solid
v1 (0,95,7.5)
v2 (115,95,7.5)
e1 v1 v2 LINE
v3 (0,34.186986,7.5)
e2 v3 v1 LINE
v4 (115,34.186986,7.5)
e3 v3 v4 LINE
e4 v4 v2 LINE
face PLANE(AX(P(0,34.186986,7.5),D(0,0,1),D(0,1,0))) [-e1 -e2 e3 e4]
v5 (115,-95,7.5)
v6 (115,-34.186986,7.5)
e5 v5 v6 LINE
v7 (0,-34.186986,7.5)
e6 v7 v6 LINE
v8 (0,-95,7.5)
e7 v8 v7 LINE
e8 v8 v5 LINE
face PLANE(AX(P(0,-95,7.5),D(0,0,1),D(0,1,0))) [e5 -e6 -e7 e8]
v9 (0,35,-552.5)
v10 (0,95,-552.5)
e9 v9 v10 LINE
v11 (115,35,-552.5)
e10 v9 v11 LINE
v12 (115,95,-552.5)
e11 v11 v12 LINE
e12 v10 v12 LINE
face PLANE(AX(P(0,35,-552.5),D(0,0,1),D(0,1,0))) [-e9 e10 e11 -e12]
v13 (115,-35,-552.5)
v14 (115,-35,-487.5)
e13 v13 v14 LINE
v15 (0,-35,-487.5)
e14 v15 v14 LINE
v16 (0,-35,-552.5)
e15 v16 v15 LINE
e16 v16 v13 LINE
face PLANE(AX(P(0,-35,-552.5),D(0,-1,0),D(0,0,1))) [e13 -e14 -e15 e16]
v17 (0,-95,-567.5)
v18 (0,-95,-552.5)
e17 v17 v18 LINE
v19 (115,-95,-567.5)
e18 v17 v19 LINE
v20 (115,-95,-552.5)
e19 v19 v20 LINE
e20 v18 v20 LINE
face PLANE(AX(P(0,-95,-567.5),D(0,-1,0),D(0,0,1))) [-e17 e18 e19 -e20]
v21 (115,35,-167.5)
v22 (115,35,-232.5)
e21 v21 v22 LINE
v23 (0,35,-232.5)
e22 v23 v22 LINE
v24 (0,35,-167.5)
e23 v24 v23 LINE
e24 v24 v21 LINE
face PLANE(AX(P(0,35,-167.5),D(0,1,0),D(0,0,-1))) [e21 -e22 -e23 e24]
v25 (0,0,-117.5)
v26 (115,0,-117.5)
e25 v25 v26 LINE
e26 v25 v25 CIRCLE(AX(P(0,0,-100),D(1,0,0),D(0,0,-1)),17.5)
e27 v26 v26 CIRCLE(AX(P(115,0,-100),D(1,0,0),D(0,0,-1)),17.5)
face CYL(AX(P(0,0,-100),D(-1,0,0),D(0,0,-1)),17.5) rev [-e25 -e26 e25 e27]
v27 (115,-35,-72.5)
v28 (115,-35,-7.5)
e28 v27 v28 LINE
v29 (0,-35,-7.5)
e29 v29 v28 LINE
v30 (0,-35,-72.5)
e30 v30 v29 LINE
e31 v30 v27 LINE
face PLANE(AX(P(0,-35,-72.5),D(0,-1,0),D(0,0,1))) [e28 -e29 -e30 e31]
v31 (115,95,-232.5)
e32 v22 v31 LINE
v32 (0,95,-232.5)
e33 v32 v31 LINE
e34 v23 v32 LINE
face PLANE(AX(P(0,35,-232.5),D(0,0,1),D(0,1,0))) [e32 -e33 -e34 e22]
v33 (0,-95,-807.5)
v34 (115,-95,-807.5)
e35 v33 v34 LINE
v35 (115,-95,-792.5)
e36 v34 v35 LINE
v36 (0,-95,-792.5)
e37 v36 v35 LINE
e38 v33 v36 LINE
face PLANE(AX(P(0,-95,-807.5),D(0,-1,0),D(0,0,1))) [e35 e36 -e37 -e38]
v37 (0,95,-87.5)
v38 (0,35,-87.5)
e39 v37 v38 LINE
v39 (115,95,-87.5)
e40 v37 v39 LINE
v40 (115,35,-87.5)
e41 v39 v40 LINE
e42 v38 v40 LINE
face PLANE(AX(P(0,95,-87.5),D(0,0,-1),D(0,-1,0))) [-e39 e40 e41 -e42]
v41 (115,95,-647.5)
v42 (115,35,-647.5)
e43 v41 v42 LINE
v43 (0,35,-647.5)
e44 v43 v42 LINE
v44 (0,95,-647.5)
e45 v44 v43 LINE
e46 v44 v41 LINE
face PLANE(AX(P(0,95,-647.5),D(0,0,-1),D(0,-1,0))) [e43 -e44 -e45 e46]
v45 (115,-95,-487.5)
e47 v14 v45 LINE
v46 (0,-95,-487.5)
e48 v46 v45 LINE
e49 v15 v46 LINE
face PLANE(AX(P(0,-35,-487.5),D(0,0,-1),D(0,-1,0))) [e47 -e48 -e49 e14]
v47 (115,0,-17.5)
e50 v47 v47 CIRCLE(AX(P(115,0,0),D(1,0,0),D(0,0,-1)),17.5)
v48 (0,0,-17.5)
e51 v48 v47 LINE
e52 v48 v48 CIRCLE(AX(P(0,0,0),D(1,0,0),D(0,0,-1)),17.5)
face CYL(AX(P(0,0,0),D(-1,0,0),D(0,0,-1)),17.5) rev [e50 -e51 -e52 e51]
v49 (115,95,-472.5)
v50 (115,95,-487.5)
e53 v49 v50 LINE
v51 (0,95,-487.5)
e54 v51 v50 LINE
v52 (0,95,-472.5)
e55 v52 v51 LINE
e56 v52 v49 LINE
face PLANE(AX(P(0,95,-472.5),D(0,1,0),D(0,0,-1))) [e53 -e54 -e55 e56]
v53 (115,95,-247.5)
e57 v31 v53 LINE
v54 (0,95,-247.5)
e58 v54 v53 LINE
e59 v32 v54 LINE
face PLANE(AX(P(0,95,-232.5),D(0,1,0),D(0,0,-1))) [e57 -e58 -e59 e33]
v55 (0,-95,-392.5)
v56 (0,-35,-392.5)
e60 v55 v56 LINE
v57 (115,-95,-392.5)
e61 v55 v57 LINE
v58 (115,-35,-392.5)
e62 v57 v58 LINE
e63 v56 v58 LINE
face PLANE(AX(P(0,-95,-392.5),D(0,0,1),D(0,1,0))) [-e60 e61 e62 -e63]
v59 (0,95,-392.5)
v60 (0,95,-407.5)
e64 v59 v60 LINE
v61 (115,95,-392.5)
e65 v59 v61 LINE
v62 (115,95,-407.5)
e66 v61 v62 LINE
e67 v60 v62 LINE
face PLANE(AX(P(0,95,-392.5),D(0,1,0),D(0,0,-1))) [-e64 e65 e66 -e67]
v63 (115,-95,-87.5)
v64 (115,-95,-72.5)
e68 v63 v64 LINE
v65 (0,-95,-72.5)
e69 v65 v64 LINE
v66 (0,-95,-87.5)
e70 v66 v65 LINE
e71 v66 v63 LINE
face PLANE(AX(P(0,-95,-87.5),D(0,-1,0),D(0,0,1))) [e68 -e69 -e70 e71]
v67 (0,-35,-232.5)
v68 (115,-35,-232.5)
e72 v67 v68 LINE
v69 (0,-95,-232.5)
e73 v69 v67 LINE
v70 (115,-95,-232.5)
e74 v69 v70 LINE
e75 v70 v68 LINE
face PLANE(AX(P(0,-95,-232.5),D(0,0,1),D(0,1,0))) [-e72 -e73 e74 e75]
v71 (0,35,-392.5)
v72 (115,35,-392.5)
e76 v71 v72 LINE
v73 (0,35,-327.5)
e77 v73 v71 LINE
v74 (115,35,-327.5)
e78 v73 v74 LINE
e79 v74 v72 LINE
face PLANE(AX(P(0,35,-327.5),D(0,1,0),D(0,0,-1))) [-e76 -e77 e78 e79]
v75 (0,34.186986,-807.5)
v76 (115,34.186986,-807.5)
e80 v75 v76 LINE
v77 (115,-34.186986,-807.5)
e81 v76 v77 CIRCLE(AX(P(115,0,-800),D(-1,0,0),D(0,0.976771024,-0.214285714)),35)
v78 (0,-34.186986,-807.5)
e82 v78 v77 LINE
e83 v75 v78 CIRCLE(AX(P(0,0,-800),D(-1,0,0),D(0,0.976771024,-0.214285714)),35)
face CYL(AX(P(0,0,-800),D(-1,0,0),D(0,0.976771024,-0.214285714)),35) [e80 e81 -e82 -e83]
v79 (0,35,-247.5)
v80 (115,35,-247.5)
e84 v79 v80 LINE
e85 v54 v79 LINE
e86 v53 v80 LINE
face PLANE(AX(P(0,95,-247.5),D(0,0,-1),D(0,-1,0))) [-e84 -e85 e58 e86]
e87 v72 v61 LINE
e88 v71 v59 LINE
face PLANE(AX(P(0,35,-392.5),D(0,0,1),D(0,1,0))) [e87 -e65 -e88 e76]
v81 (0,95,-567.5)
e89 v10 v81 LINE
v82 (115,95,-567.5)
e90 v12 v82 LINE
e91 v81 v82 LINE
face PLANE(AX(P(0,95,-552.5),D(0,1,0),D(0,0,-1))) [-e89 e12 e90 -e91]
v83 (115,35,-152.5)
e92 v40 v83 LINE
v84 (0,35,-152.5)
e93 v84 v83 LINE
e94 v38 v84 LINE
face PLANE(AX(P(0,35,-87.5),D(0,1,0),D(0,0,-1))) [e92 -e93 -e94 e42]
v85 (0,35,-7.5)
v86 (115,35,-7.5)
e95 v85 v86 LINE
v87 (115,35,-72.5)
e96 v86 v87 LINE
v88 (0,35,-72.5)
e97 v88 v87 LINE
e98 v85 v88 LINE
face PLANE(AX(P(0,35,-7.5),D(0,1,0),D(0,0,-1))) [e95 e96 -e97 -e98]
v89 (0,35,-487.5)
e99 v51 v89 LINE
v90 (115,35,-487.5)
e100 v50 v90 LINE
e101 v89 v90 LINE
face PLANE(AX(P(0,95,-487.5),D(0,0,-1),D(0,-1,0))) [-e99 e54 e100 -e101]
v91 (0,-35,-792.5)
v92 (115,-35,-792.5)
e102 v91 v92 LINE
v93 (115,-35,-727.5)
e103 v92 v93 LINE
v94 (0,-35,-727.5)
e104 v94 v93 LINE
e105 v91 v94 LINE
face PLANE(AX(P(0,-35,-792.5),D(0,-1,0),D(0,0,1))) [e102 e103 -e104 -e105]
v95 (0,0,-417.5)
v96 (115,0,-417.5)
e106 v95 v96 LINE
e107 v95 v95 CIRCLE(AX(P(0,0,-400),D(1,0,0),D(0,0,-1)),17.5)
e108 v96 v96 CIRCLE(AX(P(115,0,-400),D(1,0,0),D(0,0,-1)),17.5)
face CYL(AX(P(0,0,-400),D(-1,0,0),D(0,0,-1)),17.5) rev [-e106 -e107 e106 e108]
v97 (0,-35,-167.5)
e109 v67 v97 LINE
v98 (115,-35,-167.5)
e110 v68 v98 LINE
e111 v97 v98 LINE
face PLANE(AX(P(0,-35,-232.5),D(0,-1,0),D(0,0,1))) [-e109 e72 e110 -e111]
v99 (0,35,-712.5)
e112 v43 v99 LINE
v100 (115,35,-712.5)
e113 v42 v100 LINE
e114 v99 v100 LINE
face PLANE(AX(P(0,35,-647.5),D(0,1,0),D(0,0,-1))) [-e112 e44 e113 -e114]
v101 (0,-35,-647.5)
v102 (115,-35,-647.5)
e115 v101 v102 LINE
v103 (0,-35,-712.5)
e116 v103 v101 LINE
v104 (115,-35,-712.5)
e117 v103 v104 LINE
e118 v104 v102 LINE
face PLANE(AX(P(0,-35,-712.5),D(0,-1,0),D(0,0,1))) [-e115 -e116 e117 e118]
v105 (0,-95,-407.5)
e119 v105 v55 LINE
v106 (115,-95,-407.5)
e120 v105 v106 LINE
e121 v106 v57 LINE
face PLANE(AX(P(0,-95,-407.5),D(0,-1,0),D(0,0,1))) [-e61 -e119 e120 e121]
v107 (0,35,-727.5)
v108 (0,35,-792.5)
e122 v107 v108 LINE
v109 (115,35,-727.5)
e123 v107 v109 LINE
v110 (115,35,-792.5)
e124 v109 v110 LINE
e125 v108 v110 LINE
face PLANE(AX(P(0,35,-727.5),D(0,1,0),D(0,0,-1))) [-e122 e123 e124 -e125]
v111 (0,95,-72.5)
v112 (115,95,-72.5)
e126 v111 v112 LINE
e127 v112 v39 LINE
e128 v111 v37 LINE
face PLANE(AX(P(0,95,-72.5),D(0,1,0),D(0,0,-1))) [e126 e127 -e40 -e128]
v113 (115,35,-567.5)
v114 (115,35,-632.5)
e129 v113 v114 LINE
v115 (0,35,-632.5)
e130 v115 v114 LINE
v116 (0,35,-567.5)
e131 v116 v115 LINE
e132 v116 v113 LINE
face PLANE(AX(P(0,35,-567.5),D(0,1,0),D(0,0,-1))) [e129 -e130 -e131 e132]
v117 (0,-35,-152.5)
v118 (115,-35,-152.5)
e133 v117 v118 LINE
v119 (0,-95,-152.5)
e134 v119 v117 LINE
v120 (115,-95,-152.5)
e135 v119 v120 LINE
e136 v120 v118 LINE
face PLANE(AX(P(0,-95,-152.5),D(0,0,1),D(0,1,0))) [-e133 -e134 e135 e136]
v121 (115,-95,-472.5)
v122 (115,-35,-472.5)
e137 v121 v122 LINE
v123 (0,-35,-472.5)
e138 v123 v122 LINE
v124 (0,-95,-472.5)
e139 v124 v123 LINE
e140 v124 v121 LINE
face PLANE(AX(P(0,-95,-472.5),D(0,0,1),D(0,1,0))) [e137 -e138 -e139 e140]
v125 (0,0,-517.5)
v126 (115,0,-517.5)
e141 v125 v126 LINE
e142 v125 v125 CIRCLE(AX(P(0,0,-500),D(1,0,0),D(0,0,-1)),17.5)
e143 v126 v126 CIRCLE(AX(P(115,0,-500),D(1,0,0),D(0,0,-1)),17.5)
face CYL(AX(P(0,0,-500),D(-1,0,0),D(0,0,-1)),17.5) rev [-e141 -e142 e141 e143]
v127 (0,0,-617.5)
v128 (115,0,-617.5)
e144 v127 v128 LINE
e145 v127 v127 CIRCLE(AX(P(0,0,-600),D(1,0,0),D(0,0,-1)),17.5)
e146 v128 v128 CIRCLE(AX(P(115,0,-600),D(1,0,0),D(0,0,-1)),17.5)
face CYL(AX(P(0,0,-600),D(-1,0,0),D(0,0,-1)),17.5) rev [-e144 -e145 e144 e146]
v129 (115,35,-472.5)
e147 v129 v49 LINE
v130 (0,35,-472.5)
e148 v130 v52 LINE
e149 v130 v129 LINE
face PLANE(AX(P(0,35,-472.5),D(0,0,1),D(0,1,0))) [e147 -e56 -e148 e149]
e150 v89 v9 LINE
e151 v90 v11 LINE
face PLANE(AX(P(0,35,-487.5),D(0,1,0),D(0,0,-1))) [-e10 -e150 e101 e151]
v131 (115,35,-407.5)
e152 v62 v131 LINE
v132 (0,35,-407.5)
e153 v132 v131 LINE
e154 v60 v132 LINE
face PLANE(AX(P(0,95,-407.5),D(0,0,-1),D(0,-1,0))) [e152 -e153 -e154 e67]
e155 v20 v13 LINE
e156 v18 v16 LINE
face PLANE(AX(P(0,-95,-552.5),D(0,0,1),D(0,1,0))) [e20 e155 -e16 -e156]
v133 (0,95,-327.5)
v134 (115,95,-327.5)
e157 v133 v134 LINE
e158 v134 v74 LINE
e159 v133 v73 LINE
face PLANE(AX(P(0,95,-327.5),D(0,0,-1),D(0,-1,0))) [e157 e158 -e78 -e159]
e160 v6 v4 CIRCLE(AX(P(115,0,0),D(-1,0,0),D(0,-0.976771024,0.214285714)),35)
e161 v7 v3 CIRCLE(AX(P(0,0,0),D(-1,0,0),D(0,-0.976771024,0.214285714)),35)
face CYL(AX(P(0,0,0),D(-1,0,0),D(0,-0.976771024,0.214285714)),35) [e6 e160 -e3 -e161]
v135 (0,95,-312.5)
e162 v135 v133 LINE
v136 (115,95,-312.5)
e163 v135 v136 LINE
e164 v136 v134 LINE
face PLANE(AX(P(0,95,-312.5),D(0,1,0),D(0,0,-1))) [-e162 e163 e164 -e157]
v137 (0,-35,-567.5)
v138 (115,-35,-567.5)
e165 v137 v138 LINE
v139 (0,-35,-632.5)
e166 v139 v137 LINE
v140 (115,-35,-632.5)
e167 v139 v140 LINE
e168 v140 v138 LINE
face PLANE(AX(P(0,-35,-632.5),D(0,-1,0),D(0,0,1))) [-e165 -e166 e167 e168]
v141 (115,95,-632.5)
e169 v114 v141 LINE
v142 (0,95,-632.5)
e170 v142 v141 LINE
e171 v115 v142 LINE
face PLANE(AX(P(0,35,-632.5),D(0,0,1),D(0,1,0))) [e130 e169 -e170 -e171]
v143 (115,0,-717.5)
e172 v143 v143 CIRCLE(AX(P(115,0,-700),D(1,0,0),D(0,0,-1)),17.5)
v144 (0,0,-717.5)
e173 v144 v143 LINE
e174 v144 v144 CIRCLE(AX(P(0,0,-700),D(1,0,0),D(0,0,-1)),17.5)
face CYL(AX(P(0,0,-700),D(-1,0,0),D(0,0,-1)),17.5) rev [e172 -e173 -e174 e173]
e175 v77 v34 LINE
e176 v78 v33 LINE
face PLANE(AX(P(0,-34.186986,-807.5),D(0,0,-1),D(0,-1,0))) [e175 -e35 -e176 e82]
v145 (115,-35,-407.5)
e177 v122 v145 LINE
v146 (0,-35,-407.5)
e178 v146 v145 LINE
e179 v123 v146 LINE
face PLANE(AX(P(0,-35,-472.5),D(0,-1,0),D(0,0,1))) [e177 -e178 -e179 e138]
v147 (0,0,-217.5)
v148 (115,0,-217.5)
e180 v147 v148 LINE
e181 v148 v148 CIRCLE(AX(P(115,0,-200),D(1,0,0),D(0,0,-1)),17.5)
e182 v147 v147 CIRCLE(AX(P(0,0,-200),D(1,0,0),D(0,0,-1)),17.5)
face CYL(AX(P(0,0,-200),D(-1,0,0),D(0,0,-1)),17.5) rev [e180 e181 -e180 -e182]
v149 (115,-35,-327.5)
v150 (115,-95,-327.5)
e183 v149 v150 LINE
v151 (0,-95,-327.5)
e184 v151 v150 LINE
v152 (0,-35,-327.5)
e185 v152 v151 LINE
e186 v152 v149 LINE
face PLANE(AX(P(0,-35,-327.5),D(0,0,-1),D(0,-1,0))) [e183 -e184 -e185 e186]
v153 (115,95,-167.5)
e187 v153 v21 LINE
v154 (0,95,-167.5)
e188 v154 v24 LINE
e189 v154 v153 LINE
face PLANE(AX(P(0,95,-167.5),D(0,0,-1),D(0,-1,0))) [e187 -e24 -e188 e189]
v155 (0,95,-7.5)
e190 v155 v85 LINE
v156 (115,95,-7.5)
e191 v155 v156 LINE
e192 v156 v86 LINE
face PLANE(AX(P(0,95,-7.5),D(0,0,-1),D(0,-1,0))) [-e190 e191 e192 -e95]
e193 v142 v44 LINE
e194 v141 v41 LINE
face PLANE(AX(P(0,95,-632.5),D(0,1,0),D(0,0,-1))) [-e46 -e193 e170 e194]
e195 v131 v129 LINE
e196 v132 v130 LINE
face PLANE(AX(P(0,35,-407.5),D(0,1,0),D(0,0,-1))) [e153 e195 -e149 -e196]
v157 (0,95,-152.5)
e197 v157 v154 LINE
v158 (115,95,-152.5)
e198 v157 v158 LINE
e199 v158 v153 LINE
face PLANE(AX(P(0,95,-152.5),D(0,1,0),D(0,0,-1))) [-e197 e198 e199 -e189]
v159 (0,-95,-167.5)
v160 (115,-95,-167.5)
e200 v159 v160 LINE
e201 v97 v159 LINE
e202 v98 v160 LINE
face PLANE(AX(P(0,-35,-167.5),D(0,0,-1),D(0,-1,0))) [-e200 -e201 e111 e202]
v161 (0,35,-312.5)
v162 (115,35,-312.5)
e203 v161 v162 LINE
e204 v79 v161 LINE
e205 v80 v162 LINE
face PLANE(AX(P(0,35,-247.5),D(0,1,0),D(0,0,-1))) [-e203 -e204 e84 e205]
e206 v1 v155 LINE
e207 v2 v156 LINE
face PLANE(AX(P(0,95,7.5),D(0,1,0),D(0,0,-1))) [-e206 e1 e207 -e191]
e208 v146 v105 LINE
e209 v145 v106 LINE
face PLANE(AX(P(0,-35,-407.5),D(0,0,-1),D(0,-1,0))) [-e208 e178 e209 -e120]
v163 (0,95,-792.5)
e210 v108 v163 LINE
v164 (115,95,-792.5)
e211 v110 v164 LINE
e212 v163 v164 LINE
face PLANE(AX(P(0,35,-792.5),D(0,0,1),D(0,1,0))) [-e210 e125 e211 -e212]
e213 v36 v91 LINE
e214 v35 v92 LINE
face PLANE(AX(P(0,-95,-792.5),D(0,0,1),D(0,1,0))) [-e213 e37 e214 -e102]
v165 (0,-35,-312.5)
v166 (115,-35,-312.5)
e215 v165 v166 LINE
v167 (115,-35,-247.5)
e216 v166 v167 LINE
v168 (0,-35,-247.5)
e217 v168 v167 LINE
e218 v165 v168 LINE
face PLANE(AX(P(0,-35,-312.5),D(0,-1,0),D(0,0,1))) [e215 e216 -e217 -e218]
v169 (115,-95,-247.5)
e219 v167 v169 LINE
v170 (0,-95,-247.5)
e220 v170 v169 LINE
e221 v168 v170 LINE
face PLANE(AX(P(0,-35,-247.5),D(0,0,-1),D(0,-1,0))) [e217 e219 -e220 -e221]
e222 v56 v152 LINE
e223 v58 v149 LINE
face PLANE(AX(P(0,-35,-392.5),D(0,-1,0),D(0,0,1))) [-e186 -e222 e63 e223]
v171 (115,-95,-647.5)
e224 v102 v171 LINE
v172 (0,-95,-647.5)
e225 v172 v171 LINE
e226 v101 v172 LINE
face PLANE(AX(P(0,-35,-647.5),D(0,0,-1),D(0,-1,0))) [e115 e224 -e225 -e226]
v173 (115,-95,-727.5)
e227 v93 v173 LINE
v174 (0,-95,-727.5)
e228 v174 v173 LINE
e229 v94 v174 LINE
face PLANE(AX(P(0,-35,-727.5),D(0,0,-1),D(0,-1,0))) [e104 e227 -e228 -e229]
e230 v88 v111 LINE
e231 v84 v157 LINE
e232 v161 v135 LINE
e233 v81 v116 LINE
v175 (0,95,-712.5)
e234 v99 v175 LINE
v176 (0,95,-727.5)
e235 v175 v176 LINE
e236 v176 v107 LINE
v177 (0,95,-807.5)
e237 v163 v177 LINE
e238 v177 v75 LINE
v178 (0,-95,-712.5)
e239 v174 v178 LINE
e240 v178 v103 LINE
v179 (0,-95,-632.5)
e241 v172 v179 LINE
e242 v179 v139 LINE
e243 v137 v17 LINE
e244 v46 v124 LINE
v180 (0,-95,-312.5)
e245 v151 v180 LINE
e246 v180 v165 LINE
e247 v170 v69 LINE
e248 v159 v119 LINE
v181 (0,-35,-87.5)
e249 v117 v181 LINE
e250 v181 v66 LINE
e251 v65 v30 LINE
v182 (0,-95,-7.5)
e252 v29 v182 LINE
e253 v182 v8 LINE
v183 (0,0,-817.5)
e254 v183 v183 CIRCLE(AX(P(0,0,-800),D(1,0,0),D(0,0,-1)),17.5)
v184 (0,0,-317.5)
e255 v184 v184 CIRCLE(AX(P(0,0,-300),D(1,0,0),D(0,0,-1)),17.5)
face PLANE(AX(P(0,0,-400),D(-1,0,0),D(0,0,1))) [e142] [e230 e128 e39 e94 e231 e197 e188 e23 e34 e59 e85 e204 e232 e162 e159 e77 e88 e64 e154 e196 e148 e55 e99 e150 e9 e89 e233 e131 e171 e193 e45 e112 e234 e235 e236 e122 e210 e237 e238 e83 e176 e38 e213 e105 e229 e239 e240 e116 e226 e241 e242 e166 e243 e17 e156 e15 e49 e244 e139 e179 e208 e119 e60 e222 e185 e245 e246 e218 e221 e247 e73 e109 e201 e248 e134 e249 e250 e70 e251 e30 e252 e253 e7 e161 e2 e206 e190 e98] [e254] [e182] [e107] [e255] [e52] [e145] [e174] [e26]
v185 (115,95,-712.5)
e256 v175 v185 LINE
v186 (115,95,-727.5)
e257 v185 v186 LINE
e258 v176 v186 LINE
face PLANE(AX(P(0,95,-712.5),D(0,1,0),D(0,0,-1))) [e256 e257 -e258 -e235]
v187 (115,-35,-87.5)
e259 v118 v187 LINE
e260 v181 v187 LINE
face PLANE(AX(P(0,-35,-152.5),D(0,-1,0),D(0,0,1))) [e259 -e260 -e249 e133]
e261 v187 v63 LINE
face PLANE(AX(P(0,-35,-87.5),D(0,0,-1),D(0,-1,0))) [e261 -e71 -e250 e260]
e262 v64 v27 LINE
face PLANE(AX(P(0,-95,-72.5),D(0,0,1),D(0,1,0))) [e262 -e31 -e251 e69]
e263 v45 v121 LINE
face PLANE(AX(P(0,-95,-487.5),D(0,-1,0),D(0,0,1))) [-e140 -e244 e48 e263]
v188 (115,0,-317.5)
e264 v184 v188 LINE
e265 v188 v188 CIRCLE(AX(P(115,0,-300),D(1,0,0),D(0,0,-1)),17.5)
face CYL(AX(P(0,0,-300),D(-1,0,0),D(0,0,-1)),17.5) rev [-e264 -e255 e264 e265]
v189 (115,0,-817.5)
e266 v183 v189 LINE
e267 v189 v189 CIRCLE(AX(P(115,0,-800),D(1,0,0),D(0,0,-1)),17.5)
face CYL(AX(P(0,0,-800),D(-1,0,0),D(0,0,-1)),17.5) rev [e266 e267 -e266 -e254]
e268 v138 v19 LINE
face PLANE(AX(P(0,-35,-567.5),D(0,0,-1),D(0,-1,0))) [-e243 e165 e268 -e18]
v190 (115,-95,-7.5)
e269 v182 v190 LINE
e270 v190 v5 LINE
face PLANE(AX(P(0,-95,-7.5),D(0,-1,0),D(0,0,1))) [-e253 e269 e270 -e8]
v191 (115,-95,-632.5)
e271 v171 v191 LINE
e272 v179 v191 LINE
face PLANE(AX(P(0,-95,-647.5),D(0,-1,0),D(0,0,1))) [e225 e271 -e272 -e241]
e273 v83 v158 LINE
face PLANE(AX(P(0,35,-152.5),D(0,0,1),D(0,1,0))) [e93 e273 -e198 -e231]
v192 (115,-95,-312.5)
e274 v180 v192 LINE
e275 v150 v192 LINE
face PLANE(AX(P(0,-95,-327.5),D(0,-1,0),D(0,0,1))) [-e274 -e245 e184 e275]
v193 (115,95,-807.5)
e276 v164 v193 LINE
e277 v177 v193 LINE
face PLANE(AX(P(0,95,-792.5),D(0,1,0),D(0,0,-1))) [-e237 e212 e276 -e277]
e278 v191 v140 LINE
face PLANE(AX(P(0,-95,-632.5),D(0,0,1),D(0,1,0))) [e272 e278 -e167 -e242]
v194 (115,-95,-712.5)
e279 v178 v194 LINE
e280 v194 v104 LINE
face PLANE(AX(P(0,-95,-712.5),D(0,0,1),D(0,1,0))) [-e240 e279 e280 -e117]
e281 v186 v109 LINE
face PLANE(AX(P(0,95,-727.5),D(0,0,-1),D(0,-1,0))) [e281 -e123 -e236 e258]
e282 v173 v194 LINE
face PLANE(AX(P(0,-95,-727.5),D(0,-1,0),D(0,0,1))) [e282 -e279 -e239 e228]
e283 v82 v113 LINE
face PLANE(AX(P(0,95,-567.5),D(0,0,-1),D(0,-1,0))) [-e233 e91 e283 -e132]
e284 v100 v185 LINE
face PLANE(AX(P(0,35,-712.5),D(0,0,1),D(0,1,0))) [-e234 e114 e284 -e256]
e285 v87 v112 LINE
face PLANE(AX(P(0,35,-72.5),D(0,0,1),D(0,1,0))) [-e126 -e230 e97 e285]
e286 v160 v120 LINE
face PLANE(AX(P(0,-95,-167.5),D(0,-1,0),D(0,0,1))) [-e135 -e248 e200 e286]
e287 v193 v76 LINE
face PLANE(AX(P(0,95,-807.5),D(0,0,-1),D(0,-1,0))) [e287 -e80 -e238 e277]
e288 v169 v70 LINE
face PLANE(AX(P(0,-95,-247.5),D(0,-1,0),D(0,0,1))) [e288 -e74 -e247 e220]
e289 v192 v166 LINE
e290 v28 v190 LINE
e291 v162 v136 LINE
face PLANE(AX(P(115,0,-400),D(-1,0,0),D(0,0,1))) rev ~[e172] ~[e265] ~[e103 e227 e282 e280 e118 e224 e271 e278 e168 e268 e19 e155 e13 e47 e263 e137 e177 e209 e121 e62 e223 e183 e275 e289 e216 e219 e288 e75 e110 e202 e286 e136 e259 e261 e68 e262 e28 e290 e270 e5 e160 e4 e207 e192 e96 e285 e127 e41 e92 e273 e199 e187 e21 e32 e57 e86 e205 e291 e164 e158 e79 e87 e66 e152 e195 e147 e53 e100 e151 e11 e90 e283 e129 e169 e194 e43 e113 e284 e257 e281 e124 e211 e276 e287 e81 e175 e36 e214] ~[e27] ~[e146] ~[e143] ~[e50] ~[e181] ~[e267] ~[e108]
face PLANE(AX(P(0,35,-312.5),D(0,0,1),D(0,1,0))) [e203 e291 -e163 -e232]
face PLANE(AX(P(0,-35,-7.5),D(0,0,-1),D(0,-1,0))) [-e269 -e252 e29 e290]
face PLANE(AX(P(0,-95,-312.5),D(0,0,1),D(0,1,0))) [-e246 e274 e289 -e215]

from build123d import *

# Parameters (mm, degrees)
SKETCH1_R           = 17.5
BOSS_EXTRUDE1_DEPTH = 115


with BuildPart() as part:
    # Sketch1 → Boss-Extrude1 (new body)
    with BuildSketch(Plane(origin=(0, 0, 0), x_dir=(0, 0, -1), z_dir=(1, 0, 0))):
        with BuildLine():
            Line((7.5, 35), (72.5, 35))
            Line((72.5, 35), (72.5, 95))
            Line((72.5, 95), (87.5, 95))
            Line((87.5, 95), (87.5, 35))
            Line((87.5, 35), (152.5, 35))
            Line((152.5, 35), (152.5, 95))
            Line((152.5, 95), (167.5, 95))
            Line((167.5, 95), (167.5, 35))
            Line((167.5, 35), (232.5, 35))
            Line((232.5, 35), (232.5, 95))
            Line((232.5, 95), (247.5, 95))
            Line((247.5, 95), (247.5, 35))
            Line((247.5, 35), (312.5, 35))
            Line((312.5, 35), (312.5, 95))
            Line((312.5, 95), (327.5, 95))
            Line((327.5, 95), (327.5, 35))
            Line((327.5, 35), (392.5, 35))
            Line((392.5, 35), (392.5, 95))
            Line((392.5, 95), (407.5, 95))
            Line((407.5, 95), (407.5, 35))
            Line((407.5, 35), (472.5, 35))
            Line((472.5, 35), (472.5, 95))
            Line((472.5, 95), (487.5, 95))
            Line((487.5, 95), (487.5, 35))
            Line((487.5, 35), (552.5, 35))
            Line((552.5, 35), (552.5, 95))
            Line((552.5, 95), (567.5, 95))
            Line((567.5, 95), (567.5, 35))
            Line((567.5, 35), (632.5, 35))
            Line((632.5, 35), (632.5, 95))
            Line((632.5, 95), (647.5, 95))
            Line((647.5, 95), (647.5, 35))
            Line((647.5, 35), (712.5, 35))
            Line((712.5, 35), (712.5, 95))
            Line((712.5, 95), (727.5, 95))
            Line((727.5, 95), (727.5, 35))
            Line((727.5, 35), (792.5, 35))
            Line((792.5, 35), (792.5, 95))
            Line((792.5, 95), (807.5, 95))
            Line((807.5, 95), (807.5, 34.186985828))
            ThreePointArc((807.5, 34.186985828), (835, 0), (807.5, -34.186985828))
            Line((807.5, -34.186985828), (807.5, -95))
            Line((807.5, -95), (792.5, -95))
            Line((792.5, -95), (792.5, -35))
            Line((792.5, -35), (727.5, -35))
            Line((727.5, -35), (727.5, -95))
            Line((727.5, -95), (712.5, -95))
            Line((712.5, -95), (712.5, -35))
            Line((712.5, -35), (647.5, -35))
            Line((647.5, -35), (647.5, -95))
            Line((647.5, -95), (632.5, -95))
            Line((632.5, -95), (632.5, -35))
            Line((632.5, -35), (567.5, -35))
            Line((567.5, -35), (567.5, -95))
            Line((567.5, -95), (552.5, -95))
            Line((552.5, -95), (552.5, -35))
            Line((552.5, -35), (487.5, -35))
            Line((487.5, -35), (487.5, -95))
            Line((487.5, -95), (472.5, -95))
            Line((472.5, -95), (472.5, -35))
            Line((472.5, -35), (407.5, -35))
            Line((407.5, -35), (407.5, -95))
            Line((407.5, -95), (392.5, -95))
            Line((392.5, -95), (392.5, -35))
            Line((392.5, -35), (327.5, -35))
            Line((327.5, -35), (327.5, -95))
            Line((327.5, -95), (312.5, -95))
            Line((312.5, -95), (312.5, -35))
            Line((312.5, -35), (247.5, -35))
            Line((247.5, -35), (247.5, -95))
            Line((247.5, -95), (232.5, -95))
            Line((232.5, -95), (232.5, -35))
            Line((232.5, -35), (167.5, -35))
            Line((167.5, -35), (167.5, -95))
            Line((167.5, -95), (152.5, -95))
            Line((152.5, -95), (152.5, -35))
            Line((152.5, -35), (87.5, -35))
            Line((87.5, -35), (87.5, -95))
            Line((87.5, -95), (72.5, -95))
            Line((72.5, -95), (72.5, -35))
            Line((72.5, -35), (7.5, -35))
            Line((7.5, -35), (7.5, -95))
            Line((7.5, -95), (-7.5, -95))
            Line((-7.5, -95), (-7.5, -34.186985828))
            ThreePointArc((-7.5, -34.186985828), (-35, 0), (-7.5, 34.186985828))
            Line((-7.5, 34.186985828), (-7.5, 95))
            Line((-7.5, 95), (7.5, 95))
            Line((7.5, 95), (7.5, 35))
        make_face()
        Circle(SKETCH1_R, mode=Mode.SUBTRACT)
        with Locations((800, 0)):
            Circle(SKETCH1_R, mode=Mode.SUBTRACT)
        with Locations((100, 0)):
            Circle(SKETCH1_R, mode=Mode.SUBTRACT)
        with Locations((200, 0)):
            Circle(SKETCH1_R, mode=Mode.SUBTRACT)
        with Locations((300, 0)):
            Circle(SKETCH1_R, mode=Mode.SUBTRACT)
        with Locations((400, 0)):
            Circle(SKETCH1_R, mode=Mode.SUBTRACT)
        with Locations((500, 0)):
            Circle(SKETCH1_R, mode=Mode.SUBTRACT)
        with Locations((600, 0)):
            Circle(SKETCH1_R, mode=Mode.SUBTRACT)
        with Locations((700, 0)):
            Circle(SKETCH1_R, mode=Mode.SUBTRACT)
    extrude(amount=BOSS_EXTRUDE1_DEPTH)


solid = part.part
